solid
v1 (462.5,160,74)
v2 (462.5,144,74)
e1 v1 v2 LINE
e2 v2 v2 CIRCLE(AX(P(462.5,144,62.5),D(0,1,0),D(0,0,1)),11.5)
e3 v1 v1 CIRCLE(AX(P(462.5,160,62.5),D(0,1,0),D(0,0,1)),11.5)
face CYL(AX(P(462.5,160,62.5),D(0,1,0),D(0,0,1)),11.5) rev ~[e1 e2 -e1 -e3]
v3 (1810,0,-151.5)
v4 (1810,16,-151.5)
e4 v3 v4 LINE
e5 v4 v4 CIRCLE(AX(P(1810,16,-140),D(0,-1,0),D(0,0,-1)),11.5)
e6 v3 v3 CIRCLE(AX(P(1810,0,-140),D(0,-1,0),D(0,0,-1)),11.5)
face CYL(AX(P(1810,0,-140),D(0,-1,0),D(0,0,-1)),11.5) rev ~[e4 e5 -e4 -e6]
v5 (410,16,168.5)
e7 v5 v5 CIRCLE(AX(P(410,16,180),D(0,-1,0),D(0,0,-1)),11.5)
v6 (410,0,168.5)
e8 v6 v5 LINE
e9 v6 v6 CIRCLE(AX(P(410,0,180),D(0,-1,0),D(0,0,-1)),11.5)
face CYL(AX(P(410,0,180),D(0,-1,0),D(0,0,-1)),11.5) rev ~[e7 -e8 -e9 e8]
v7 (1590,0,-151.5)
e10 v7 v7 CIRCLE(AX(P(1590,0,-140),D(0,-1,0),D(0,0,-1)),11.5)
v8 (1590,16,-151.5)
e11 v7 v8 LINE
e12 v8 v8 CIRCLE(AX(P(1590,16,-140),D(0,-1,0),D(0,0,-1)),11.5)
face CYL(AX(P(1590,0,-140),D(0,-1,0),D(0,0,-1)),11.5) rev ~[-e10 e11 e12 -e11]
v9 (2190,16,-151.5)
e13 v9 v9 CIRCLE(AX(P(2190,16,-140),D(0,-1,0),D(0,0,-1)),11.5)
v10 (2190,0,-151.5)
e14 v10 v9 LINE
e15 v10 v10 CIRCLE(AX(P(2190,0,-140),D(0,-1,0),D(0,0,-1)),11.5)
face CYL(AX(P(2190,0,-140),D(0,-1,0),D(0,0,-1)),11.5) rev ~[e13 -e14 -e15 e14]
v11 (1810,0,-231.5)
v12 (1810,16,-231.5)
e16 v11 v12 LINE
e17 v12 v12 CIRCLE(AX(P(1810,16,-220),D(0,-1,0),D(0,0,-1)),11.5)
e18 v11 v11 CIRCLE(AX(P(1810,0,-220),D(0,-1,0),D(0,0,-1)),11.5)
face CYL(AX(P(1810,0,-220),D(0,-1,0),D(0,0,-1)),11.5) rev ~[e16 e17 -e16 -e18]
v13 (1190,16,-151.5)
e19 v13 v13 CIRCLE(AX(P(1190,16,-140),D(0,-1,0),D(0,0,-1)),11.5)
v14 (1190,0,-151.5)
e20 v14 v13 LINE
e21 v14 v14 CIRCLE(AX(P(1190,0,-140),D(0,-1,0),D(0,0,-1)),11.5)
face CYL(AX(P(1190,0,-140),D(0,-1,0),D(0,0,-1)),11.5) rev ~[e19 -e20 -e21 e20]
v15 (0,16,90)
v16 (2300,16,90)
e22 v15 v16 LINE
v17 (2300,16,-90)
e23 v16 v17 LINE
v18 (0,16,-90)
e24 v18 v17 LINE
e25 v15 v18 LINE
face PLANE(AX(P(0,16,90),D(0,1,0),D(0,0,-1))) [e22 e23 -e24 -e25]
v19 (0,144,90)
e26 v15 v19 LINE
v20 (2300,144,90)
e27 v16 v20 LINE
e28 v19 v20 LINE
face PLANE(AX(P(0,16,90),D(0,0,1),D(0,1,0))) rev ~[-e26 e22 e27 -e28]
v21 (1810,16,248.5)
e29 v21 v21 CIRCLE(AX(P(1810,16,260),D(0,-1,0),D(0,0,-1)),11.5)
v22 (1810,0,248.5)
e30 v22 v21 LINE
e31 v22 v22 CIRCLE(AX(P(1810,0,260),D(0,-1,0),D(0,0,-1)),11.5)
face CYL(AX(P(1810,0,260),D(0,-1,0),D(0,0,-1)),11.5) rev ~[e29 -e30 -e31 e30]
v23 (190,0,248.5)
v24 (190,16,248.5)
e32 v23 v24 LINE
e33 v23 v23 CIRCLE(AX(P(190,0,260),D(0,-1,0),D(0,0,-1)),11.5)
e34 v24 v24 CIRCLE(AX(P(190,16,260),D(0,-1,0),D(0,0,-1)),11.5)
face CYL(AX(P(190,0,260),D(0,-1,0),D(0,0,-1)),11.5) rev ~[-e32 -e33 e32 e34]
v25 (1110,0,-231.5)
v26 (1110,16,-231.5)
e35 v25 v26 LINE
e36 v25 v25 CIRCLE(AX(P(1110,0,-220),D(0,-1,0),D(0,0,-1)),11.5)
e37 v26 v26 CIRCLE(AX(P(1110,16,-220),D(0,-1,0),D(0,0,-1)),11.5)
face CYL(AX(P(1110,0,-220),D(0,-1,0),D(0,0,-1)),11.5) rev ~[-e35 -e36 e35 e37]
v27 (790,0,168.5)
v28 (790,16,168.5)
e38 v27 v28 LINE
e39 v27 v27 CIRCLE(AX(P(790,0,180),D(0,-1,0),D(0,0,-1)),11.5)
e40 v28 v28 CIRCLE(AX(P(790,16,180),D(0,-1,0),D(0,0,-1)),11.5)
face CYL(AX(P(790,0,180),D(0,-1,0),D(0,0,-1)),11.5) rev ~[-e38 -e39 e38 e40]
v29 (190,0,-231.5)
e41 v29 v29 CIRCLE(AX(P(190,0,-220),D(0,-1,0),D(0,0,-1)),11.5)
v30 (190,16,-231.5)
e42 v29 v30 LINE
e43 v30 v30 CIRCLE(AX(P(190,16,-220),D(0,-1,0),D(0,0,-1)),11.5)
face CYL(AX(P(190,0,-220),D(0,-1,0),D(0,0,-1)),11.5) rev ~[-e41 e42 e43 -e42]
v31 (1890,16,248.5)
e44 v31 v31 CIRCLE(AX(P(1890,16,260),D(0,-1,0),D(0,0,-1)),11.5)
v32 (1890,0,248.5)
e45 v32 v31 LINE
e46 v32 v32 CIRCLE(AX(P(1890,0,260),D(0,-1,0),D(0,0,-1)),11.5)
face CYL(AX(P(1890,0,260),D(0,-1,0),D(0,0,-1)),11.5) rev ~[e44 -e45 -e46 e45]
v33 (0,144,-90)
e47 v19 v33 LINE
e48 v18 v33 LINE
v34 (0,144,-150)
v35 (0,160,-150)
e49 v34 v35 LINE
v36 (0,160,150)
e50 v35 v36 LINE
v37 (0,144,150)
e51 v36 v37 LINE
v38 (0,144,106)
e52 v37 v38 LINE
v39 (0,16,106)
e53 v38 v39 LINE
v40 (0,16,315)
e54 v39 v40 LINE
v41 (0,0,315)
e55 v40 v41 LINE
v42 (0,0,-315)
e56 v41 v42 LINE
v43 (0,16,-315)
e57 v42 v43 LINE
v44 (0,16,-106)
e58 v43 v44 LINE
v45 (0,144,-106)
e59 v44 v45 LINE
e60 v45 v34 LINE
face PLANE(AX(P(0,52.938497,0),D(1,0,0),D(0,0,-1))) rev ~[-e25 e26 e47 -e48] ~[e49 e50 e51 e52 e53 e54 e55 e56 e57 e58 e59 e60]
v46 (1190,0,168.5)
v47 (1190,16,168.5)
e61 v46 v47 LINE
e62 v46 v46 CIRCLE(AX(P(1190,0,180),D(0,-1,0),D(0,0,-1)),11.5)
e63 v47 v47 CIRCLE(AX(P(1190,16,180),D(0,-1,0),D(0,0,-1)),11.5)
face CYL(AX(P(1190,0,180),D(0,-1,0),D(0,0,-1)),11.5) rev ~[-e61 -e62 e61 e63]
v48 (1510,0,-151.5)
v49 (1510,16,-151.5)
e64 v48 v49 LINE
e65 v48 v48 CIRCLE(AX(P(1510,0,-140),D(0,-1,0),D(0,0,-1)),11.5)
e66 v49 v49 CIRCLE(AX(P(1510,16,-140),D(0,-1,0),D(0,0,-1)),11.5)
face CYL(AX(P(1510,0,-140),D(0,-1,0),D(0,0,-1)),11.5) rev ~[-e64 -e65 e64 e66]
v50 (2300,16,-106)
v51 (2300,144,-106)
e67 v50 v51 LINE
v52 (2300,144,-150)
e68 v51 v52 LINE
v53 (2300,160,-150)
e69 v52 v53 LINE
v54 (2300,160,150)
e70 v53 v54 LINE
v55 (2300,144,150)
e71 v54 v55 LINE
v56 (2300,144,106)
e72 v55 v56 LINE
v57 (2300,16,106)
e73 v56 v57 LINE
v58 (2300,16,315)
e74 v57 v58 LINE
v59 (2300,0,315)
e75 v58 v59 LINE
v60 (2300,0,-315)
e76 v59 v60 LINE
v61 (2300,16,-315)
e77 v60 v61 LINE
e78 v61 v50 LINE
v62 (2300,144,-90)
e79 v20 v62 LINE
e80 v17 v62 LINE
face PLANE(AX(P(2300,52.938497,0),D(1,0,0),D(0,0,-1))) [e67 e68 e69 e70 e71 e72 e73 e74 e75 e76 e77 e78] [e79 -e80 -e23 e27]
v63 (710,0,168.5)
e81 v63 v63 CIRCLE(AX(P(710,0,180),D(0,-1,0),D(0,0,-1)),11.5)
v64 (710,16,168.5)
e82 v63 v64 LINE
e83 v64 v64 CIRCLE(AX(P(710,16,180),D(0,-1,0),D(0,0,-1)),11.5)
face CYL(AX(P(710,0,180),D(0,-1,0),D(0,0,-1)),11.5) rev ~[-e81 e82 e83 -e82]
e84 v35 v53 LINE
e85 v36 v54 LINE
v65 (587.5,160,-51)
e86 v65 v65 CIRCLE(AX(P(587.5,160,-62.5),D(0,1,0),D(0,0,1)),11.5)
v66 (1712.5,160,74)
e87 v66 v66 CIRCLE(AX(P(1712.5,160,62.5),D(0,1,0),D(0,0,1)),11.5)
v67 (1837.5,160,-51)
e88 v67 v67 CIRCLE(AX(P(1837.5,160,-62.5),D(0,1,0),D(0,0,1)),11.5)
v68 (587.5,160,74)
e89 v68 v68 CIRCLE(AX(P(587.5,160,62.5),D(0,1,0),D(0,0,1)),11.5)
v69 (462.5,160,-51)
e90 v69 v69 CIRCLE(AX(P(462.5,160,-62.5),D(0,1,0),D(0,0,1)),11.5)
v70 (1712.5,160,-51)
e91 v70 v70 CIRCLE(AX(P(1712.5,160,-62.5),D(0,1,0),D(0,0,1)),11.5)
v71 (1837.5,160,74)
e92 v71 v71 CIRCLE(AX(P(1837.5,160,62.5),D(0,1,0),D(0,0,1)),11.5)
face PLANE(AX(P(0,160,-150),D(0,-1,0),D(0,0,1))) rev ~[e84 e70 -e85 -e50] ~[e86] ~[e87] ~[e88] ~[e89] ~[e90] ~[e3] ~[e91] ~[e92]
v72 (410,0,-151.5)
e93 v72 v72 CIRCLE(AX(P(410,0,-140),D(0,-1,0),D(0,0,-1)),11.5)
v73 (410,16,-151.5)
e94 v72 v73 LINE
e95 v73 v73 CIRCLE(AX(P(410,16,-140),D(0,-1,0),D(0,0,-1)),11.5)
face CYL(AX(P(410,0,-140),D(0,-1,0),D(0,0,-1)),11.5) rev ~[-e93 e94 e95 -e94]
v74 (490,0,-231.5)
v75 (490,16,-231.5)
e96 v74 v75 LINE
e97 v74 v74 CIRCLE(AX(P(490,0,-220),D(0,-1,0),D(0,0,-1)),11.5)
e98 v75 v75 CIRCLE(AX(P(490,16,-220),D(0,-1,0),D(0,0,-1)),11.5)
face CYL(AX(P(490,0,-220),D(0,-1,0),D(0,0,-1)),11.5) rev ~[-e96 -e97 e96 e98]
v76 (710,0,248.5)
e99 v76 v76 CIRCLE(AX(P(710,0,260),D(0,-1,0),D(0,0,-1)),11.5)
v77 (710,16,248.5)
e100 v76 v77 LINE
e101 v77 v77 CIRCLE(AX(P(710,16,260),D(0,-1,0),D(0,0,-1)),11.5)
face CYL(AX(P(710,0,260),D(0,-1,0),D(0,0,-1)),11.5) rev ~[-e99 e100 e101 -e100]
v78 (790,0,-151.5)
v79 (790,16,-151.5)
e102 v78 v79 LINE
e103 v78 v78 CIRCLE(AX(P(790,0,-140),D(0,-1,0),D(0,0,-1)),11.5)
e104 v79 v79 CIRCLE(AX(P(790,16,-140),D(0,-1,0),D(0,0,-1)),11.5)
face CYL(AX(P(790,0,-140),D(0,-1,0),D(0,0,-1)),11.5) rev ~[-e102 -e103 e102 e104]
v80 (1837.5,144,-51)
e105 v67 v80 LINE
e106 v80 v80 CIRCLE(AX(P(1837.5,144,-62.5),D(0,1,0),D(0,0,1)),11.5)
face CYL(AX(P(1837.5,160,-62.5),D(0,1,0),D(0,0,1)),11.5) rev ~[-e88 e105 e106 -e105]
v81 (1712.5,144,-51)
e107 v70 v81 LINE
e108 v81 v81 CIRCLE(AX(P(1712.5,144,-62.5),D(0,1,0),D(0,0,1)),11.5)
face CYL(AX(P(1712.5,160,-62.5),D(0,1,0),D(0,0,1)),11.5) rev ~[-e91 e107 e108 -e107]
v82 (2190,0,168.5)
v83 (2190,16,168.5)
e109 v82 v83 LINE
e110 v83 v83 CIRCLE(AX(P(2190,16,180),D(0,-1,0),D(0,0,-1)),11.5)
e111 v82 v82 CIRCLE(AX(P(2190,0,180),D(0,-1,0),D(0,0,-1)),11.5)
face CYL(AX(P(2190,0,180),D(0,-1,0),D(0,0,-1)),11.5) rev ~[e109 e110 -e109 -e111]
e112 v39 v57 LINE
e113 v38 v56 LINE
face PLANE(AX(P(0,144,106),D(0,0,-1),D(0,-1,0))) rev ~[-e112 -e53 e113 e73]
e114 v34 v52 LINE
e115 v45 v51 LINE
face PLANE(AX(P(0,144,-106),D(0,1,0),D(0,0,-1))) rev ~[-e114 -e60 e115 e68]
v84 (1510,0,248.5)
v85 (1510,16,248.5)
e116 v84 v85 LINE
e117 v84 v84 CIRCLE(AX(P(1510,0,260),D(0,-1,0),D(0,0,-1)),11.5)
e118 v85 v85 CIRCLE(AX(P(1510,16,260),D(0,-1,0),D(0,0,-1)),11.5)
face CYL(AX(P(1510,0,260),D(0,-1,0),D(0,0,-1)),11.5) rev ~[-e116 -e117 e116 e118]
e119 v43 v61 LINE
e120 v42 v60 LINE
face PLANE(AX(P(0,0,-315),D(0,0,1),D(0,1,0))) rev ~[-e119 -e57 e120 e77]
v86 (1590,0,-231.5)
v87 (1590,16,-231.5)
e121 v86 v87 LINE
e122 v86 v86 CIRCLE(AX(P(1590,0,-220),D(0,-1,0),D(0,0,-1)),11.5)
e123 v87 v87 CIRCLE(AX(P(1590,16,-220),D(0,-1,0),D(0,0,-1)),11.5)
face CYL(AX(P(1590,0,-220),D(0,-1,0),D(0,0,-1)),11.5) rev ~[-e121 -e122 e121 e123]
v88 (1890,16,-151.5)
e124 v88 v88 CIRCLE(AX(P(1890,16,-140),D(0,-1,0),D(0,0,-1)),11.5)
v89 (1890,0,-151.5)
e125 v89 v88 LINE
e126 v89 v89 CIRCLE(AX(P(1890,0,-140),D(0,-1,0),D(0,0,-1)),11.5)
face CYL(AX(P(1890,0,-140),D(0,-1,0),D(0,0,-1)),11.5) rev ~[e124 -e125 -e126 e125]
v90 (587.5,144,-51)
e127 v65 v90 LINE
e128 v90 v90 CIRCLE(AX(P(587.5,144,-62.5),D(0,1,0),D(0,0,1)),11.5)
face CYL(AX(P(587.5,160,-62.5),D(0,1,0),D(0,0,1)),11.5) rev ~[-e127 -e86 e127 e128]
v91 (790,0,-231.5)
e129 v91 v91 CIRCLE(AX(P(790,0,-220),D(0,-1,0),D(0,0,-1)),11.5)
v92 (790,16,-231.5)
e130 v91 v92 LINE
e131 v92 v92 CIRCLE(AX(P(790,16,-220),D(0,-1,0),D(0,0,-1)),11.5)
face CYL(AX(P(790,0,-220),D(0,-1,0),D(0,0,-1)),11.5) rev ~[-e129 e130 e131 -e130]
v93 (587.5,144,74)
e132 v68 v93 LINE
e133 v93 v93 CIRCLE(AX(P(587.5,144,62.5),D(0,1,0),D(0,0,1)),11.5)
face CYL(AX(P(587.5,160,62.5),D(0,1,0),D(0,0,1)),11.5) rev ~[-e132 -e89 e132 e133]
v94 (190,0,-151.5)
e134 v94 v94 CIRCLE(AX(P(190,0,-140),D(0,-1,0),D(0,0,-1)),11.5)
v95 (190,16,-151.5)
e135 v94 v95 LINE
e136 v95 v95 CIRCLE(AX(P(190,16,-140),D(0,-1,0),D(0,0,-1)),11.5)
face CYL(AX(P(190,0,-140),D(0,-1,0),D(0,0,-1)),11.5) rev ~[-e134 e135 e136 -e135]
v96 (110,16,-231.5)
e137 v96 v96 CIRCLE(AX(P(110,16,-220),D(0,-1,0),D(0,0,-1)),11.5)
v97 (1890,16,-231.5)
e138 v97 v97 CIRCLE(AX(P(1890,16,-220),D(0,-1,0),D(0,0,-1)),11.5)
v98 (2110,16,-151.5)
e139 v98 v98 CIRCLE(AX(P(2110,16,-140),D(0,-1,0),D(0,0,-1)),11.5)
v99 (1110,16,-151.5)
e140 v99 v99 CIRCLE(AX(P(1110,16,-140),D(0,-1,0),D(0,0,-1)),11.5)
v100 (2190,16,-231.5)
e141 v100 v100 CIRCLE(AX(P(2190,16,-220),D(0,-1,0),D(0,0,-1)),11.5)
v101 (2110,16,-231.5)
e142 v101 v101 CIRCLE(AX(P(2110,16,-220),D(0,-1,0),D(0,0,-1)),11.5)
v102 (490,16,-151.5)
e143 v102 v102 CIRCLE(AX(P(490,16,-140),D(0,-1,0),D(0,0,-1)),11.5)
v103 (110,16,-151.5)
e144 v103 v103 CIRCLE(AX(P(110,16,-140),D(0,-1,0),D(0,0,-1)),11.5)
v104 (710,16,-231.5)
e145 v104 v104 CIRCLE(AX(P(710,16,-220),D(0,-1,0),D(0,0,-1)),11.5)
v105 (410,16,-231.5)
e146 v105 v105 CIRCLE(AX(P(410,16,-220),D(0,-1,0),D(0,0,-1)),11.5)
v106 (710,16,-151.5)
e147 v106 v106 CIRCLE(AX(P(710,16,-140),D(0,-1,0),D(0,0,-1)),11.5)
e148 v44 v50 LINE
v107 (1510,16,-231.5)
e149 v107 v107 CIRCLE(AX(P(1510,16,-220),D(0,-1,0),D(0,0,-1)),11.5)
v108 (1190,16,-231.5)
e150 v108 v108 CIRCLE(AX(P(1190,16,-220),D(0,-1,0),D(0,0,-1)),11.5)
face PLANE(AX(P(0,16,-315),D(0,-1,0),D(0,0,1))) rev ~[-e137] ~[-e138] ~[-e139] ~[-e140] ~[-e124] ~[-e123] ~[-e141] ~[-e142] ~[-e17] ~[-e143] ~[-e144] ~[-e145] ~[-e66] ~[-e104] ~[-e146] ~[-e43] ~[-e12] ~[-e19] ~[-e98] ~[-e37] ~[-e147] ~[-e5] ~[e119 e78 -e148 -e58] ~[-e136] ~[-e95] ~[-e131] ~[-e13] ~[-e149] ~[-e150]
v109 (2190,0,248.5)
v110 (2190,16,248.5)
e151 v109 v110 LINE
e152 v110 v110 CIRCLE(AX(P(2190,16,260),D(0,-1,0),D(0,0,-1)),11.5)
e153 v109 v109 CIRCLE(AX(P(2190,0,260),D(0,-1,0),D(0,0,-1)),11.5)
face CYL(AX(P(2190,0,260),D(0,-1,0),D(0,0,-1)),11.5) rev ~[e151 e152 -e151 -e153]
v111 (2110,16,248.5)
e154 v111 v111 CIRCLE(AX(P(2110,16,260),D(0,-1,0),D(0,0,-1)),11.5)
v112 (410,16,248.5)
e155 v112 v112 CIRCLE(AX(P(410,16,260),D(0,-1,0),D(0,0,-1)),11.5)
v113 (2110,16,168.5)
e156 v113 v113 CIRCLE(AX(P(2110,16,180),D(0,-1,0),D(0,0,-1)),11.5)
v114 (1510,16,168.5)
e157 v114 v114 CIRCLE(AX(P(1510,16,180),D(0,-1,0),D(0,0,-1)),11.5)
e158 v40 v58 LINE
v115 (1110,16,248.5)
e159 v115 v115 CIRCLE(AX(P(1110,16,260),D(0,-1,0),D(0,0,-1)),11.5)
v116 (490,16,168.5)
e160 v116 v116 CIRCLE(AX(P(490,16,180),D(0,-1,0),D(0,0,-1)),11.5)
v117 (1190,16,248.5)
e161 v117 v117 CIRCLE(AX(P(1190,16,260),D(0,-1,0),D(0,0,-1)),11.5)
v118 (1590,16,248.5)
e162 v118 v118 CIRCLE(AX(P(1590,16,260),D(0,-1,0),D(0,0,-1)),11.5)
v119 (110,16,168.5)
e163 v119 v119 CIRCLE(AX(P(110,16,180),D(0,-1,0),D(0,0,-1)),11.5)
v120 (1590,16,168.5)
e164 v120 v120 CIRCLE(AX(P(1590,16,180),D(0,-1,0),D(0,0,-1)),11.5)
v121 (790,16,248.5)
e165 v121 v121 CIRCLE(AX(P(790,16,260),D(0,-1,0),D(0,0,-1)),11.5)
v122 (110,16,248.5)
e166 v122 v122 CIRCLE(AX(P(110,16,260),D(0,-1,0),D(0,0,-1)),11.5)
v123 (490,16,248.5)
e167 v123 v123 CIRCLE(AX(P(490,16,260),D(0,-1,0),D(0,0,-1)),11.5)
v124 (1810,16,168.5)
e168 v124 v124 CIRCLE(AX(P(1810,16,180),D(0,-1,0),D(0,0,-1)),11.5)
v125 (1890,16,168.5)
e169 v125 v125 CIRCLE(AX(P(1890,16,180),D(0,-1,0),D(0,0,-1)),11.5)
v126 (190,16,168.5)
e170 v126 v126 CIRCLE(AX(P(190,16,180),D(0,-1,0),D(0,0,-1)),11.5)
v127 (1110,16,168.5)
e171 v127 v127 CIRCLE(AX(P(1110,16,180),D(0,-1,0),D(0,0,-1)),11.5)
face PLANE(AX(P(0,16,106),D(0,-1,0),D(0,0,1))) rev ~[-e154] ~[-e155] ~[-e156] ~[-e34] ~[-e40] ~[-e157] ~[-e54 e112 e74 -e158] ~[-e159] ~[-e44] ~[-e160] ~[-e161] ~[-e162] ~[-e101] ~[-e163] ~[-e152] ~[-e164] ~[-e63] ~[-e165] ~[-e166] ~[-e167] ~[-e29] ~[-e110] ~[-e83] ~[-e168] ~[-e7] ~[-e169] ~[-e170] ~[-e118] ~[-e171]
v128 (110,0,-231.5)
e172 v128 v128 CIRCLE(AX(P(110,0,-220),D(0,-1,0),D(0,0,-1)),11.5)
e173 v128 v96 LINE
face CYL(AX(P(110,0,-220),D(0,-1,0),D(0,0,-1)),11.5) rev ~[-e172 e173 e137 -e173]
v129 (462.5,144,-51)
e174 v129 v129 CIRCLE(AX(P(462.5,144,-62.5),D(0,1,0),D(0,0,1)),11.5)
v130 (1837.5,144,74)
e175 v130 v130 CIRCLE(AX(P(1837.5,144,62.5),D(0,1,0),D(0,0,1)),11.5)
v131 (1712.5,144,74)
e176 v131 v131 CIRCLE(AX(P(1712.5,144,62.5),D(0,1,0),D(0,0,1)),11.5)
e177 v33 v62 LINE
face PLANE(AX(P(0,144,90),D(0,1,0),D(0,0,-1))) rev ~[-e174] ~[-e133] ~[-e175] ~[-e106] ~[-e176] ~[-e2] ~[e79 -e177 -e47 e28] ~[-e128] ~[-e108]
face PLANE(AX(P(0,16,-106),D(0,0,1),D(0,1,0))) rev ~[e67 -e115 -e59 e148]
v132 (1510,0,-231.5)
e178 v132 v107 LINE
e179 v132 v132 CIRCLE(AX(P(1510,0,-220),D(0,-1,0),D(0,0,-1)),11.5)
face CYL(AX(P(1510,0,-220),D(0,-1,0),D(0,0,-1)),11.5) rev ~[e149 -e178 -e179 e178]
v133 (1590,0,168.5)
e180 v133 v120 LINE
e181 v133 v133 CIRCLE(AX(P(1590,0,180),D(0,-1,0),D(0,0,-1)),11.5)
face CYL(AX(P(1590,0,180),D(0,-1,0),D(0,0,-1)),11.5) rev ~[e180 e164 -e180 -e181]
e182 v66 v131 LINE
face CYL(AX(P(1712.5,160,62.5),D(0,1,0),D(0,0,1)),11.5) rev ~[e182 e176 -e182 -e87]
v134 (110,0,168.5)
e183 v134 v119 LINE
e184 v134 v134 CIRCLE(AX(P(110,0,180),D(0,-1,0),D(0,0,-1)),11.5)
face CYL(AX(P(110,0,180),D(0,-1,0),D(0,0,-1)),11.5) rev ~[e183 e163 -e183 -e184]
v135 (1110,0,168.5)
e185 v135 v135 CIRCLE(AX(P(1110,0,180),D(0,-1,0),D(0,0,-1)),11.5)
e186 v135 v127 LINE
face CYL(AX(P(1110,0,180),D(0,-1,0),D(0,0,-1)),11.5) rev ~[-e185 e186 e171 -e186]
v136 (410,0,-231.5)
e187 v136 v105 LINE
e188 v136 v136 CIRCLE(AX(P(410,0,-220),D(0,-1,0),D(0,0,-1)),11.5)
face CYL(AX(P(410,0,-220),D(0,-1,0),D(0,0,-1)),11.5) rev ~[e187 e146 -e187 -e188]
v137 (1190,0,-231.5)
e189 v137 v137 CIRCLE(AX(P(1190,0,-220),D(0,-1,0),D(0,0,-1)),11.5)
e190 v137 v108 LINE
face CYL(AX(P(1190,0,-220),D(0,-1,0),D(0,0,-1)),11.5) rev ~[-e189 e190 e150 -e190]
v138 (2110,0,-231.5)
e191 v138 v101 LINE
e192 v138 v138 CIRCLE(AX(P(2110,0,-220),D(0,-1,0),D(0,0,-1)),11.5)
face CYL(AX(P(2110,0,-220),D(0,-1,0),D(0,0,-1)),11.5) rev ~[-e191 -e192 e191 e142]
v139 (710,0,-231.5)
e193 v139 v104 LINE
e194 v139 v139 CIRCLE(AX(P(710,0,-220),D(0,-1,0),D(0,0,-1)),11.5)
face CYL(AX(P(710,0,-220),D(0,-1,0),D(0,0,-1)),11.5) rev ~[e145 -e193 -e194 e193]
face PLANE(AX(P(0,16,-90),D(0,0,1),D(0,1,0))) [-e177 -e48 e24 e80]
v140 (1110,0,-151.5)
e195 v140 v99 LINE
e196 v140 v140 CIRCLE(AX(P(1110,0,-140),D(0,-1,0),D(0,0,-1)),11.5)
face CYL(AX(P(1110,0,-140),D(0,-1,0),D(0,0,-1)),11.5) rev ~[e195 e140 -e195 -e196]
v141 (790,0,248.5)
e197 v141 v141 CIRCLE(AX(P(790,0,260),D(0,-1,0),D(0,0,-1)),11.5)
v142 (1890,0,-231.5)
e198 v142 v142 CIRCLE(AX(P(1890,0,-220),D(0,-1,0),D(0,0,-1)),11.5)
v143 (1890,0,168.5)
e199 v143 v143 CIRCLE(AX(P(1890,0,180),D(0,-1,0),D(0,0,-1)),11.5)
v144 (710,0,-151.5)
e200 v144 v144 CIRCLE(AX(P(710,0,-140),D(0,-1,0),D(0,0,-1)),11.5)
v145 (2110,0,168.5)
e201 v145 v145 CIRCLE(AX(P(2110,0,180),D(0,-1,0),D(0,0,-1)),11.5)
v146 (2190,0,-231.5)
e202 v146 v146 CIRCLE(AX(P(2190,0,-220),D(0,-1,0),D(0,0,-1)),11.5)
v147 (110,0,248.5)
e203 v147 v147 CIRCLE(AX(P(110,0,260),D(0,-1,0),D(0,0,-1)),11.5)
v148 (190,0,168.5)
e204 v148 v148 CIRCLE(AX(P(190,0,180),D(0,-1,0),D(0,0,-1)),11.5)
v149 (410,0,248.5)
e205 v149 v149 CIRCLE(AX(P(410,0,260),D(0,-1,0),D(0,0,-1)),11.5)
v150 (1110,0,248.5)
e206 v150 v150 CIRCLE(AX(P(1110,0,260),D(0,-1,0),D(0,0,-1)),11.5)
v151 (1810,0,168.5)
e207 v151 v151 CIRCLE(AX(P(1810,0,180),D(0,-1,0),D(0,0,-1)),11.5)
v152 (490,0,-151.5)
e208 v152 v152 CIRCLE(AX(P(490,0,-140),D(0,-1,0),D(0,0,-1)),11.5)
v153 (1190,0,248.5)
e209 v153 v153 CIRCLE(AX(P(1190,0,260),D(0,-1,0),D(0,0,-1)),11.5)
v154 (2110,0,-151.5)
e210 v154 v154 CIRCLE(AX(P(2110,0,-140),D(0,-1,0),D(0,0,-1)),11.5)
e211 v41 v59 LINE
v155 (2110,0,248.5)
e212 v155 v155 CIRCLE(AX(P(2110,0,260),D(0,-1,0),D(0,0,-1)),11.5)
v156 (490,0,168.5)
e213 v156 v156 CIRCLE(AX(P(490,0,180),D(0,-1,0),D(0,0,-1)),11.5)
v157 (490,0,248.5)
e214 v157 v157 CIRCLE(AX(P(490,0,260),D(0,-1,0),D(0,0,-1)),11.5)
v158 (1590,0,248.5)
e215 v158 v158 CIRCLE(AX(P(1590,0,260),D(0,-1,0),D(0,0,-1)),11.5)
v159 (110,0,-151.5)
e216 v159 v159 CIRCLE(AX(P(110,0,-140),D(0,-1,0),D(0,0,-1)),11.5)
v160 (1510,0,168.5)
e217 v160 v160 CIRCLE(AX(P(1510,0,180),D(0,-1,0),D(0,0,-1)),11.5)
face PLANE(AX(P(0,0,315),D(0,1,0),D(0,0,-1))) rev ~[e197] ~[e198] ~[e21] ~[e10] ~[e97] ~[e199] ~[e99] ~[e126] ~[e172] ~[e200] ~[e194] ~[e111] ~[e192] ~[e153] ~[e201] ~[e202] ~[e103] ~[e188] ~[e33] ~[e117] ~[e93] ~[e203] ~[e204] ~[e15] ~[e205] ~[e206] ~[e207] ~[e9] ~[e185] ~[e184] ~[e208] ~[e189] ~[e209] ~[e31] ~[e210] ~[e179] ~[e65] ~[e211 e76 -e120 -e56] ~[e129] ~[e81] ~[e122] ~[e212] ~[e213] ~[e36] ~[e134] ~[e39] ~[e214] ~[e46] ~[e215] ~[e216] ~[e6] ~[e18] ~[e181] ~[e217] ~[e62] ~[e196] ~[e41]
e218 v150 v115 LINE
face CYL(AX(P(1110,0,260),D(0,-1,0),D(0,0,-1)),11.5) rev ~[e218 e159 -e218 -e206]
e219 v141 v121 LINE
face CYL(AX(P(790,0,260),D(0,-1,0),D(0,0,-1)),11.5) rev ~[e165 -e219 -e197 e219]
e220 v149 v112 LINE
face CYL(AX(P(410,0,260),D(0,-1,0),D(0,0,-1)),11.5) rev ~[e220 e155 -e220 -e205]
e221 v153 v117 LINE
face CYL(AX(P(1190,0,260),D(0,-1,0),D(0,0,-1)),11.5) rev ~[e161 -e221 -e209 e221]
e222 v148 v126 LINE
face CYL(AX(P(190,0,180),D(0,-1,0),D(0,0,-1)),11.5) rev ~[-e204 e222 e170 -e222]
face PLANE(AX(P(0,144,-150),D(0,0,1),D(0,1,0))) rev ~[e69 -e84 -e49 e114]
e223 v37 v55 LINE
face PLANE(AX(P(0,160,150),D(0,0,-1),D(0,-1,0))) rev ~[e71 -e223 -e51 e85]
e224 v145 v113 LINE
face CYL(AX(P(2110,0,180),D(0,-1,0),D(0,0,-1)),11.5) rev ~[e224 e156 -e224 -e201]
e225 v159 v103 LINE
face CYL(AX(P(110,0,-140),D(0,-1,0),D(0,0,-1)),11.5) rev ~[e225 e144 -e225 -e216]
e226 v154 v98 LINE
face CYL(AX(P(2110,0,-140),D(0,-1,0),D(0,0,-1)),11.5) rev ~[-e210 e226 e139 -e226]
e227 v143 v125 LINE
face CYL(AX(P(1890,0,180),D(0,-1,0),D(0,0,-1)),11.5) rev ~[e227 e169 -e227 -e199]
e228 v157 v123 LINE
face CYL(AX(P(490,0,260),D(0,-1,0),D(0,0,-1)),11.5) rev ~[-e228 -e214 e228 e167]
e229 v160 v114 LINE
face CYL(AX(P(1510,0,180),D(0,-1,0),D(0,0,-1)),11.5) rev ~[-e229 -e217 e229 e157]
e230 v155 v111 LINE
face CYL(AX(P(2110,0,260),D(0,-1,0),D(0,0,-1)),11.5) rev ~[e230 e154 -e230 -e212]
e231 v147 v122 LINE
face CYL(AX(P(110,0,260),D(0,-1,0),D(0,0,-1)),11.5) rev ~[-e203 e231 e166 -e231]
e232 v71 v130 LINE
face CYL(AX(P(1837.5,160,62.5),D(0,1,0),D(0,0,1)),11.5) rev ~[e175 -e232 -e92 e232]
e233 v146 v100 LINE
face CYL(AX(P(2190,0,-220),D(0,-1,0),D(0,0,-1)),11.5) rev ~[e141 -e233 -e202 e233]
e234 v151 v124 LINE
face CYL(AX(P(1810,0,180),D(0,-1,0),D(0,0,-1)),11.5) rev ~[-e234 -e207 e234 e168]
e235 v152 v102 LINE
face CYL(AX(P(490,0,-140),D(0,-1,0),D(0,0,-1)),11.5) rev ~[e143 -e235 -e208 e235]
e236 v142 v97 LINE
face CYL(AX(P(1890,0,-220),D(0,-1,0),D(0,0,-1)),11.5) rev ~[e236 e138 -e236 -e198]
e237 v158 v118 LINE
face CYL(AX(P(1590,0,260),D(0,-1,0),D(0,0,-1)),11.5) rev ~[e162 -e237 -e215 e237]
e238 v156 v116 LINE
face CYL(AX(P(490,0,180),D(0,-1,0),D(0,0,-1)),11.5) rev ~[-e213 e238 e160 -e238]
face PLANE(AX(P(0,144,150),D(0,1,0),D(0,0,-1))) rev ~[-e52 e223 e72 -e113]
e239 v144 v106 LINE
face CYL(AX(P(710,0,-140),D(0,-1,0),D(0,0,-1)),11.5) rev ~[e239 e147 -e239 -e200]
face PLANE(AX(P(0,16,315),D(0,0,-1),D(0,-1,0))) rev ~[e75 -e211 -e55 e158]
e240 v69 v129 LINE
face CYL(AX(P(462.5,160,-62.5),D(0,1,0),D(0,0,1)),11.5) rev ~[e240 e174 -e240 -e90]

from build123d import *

# Parameters (mm, degrees)
SKETCH_7_W          = 180
SKETCH_7_H          = 128
EXTRUDE_1_DEPTH     = 2300
SKETCH_8_R          = 11.5
CUT_EXTRUDE_1_DEPTH = 16
SKETCH_9_R          = 11.5
CUT_EXTRUDE_2_DEPTH = 16


with BuildPart() as part:
    # 草图7 → 凸台-拉伸1 (new body)
    with BuildSketch(Plane(origin=(0, 0, 0), x_dir=(0, 0, -1), z_dir=(1, 0, 0))):
        Polygon((-315, 16), (-315, 0), (315, 0), (315, 16), (106, 16), (106, 144), (150, 144), (150, 160), (-150, 160), (-150, 144), (-106, 144), (-106, 16), align=None)
        with Locations((0, 80)):
            Rectangle(SKETCH_7_W, SKETCH_7_H, mode=Mode.SUBTRACT)
    extrude(amount=EXTRUDE_1_DEPTH)

    # 草图8 → 切除-拉伸1 (cut)
    with BuildSketch(Plane(origin=(0, 160, 0), x_dir=(1, 0, 0), z_dir=(0, 1, 0))):
        with Locations(Location((462.5, 62.5, 0), (0, 0, 270))):
            Circle(SKETCH_8_R)
        with Locations(Location((587.5, 62.5, 0), (0, 0, 270))):
            Circle(SKETCH_8_R)
        with Locations(Location((462.5, -62.5, 0), (0, 0, 270))):
            Circle(SKETCH_8_R)
        with Locations(Location((587.5, -62.5, 0), (0, 0, 270))):
            Circle(SKETCH_8_R)
        with Locations(Location((1712.5, 62.5, 0), (0, 0, 270))):
            Circle(SKETCH_8_R)
        with Locations(Location((1837.5, 62.5, 0), (0, 0, 270))):
            Circle(SKETCH_8_R)
        with Locations(Location((1712.5, -62.5, 0), (0, 0, 270))):
            Circle(SKETCH_8_R)
        with Locations(Location((1837.5, -62.5, 0), (0, 0, 270))):
            Circle(SKETCH_8_R)
    extrude(amount=-CUT_EXTRUDE_1_DEPTH, mode=Mode.SUBTRACT)

    # 草图9 → 切除-拉伸2 (cut)
    with BuildSketch(Plane.XZ):
        with Locations(Location((110, 260, 0), (0, 0, 270))):
            Circle(SKETCH_9_R)
        with Locations(Location((190, 260, 0), (0, 0, 270))):
            Circle(SKETCH_9_R)
        with Locations(Location((410, 260, 0), (0, 0, 270))):
            Circle(SKETCH_9_R)
        with Locations(Location((490, 260, 0), (0, 0, 270))):
            Circle(SKETCH_9_R)
        with Locations(Location((710, 260, 0), (0, 0, 270))):
            Circle(SKETCH_9_R)
        with Locations(Location((790, 260, 0), (0, 0, 270))):
            Circle(SKETCH_9_R)
        with Locations(Location((1110, 260, 0), (0, 0, 270))):
            Circle(SKETCH_9_R)
        with Locations(Location((1190, 260, 0), (0, 0, 270))):
            Circle(SKETCH_9_R)
        with Locations(Location((1510, 260, 0), (0, 0, 270))):
            Circle(SKETCH_9_R)
        with Locations(Location((1590, 260, 0), (0, 0, 270))):
            Circle(SKETCH_9_R)
        with Locations(Location((1810, 260, 0), (0, 0, 270))):
            Circle(SKETCH_9_R)
        with Locations(Location((1890, 260, 0), (0, 0, 270))):
            Circle(SKETCH_9_R)
        with Locations(Location((110, 180, 0), (0, 0, 270))):
            Circle(SKETCH_9_R)
        with Locations(Location((190, 180, 0), (0, 0, 270))):
            Circle(SKETCH_9_R)
        with Locations(Location((410, 180, 0), (0, 0, 270))):
            Circle(SKETCH_9_R)
        with Locations(Location((490, 180, 0), (0, 0, 270))):
            Circle(SKETCH_9_R)
        with Locations(Location((710, 180, 0), (0, 0, 270))):
            Circle(SKETCH_9_R)
        with Locations(Location((790, 180, 0), (0, 0, 270))):
            Circle(SKETCH_9_R)
        with Locations(Location((1110, 180, 0), (0, 0, 270))):
            Circle(SKETCH_9_R)
        with Locations(Location((1190, 180, 0), (0, 0, 270))):
            Circle(SKETCH_9_R)
        with Locations(Location((1510, 180, 0), (0, 0, 270))):
            Circle(SKETCH_9_R)
        with Locations(Location((1590, 180, 0), (0, 0, 270))):
            Circle(SKETCH_9_R)
        with Locations(Location((1810, 180, 0), (0, 0, 270))):
            Circle(SKETCH_9_R)
        with Locations(Location((1890, 180, 0), (0, 0, 270))):
            Circle(SKETCH_9_R)
        with Locations(Location((110, -140, 0), (0, 0, 270))):
            Circle(SKETCH_9_R)
        with Locations(Location((190, -140, 0), (0, 0, 270))):
            Circle(SKETCH_9_R)
        with Locations(Location((410, -140, 0), (0, 0, 270))):
            Circle(SKETCH_9_R)
        with Locations(Location((490, -140, 0), (0, 0, 270))):
            Circle(SKETCH_9_R)
        with Locations(Location((710, -140, 0), (0, 0, 270))):
            Circle(SKETCH_9_R)
        with Locations(Location((790, -140, 0), (0, 0, 270))):
            Circle(SKETCH_9_R)
        with Locations(Location((1110, -140, 0), (0, 0, 270))):
            Circle(SKETCH_9_R)
        with Locations(Location((1190, -140, 0), (0, 0, 270))):
            Circle(SKETCH_9_R)
        with Locations(Location((1510, -140, 0), (0, 0, 270))):
            Circle(SKETCH_9_R)
        with Locations(Location((1590, -140, 0), (0, 0, 270))):
            Circle(SKETCH_9_R)
        with Locations(Location((1810, -140, 0), (0, 0, 270))):
            Circle(SKETCH_9_R)
        with Locations(Location((1890, -140, 0), (0, 0, 270))):
            Circle(SKETCH_9_R)
        with Locations(Location((110, -220, 0), (0, 0, 270))):
            Circle(SKETCH_9_R)
        with Locations(Location((190, -220, 0), (0, 0, 270))):
            Circle(SKETCH_9_R)
        with Locations(Location((410, -220, 0), (0, 0, 270))):
            Circle(SKETCH_9_R)
        with Locations(Location((490, -220, 0), (0, 0, 270))):
            Circle(SKETCH_9_R)
        with Locations(Location((710, -220, 0), (0, 0, 270))):
            Circle(SKETCH_9_R)
        with Locations(Location((790, -220, 0), (0, 0, 270))):
            Circle(SKETCH_9_R)
        with Locations(Location((1110, -220, 0), (0, 0, 270))):
            Circle(SKETCH_9_R)
        with Locations(Location((1190, -220, 0), (0, 0, 270))):
            Circle(SKETCH_9_R)
        with Locations(Location((1510, -220, 0), (0, 0, 270))):
            Circle(SKETCH_9_R)
        with Locations(Location((1590, -220, 0), (0, 0, 270))):
            Circle(SKETCH_9_R)
        with Locations(Location((1810, -220, 0), (0, 0, 270))):
            Circle(SKETCH_9_R)
        with Locations(Location((1890, -220, 0), (0, 0, 270))):
            Circle(SKETCH_9_R)
        with Locations(Location((2110, 260, 0), (0, 0, 270))):
            Circle(SKETCH_9_R)
        with Locations(Location((2190, 260, 0), (0, 0, 270))):
            Circle(SKETCH_9_R)
        with Locations(Location((2110, 180, 0), (0, 0, 270))):
            Circle(SKETCH_9_R)
        with Locations(Location((2190, 180, 0), (0, 0, 270))):
            Circle(SKETCH_9_R)
        with Locations(Location((2110, -140, 0), (0, 0, 270))):
            Circle(SKETCH_9_R)
        with Locations(Location((2190, -140, 0), (0, 0, 270))):
            Circle(SKETCH_9_R)
        with Locations(Location((2110, -220, 0), (0, 0, 270))):
            Circle(SKETCH_9_R)
        with Locations(Location((2190, -220, 0), (0, 0, 270))):
            Circle(SKETCH_9_R)
    extrude(amount=-CUT_EXTRUDE_2_DEPTH, mode=Mode.SUBTRACT)


solid = part.part
